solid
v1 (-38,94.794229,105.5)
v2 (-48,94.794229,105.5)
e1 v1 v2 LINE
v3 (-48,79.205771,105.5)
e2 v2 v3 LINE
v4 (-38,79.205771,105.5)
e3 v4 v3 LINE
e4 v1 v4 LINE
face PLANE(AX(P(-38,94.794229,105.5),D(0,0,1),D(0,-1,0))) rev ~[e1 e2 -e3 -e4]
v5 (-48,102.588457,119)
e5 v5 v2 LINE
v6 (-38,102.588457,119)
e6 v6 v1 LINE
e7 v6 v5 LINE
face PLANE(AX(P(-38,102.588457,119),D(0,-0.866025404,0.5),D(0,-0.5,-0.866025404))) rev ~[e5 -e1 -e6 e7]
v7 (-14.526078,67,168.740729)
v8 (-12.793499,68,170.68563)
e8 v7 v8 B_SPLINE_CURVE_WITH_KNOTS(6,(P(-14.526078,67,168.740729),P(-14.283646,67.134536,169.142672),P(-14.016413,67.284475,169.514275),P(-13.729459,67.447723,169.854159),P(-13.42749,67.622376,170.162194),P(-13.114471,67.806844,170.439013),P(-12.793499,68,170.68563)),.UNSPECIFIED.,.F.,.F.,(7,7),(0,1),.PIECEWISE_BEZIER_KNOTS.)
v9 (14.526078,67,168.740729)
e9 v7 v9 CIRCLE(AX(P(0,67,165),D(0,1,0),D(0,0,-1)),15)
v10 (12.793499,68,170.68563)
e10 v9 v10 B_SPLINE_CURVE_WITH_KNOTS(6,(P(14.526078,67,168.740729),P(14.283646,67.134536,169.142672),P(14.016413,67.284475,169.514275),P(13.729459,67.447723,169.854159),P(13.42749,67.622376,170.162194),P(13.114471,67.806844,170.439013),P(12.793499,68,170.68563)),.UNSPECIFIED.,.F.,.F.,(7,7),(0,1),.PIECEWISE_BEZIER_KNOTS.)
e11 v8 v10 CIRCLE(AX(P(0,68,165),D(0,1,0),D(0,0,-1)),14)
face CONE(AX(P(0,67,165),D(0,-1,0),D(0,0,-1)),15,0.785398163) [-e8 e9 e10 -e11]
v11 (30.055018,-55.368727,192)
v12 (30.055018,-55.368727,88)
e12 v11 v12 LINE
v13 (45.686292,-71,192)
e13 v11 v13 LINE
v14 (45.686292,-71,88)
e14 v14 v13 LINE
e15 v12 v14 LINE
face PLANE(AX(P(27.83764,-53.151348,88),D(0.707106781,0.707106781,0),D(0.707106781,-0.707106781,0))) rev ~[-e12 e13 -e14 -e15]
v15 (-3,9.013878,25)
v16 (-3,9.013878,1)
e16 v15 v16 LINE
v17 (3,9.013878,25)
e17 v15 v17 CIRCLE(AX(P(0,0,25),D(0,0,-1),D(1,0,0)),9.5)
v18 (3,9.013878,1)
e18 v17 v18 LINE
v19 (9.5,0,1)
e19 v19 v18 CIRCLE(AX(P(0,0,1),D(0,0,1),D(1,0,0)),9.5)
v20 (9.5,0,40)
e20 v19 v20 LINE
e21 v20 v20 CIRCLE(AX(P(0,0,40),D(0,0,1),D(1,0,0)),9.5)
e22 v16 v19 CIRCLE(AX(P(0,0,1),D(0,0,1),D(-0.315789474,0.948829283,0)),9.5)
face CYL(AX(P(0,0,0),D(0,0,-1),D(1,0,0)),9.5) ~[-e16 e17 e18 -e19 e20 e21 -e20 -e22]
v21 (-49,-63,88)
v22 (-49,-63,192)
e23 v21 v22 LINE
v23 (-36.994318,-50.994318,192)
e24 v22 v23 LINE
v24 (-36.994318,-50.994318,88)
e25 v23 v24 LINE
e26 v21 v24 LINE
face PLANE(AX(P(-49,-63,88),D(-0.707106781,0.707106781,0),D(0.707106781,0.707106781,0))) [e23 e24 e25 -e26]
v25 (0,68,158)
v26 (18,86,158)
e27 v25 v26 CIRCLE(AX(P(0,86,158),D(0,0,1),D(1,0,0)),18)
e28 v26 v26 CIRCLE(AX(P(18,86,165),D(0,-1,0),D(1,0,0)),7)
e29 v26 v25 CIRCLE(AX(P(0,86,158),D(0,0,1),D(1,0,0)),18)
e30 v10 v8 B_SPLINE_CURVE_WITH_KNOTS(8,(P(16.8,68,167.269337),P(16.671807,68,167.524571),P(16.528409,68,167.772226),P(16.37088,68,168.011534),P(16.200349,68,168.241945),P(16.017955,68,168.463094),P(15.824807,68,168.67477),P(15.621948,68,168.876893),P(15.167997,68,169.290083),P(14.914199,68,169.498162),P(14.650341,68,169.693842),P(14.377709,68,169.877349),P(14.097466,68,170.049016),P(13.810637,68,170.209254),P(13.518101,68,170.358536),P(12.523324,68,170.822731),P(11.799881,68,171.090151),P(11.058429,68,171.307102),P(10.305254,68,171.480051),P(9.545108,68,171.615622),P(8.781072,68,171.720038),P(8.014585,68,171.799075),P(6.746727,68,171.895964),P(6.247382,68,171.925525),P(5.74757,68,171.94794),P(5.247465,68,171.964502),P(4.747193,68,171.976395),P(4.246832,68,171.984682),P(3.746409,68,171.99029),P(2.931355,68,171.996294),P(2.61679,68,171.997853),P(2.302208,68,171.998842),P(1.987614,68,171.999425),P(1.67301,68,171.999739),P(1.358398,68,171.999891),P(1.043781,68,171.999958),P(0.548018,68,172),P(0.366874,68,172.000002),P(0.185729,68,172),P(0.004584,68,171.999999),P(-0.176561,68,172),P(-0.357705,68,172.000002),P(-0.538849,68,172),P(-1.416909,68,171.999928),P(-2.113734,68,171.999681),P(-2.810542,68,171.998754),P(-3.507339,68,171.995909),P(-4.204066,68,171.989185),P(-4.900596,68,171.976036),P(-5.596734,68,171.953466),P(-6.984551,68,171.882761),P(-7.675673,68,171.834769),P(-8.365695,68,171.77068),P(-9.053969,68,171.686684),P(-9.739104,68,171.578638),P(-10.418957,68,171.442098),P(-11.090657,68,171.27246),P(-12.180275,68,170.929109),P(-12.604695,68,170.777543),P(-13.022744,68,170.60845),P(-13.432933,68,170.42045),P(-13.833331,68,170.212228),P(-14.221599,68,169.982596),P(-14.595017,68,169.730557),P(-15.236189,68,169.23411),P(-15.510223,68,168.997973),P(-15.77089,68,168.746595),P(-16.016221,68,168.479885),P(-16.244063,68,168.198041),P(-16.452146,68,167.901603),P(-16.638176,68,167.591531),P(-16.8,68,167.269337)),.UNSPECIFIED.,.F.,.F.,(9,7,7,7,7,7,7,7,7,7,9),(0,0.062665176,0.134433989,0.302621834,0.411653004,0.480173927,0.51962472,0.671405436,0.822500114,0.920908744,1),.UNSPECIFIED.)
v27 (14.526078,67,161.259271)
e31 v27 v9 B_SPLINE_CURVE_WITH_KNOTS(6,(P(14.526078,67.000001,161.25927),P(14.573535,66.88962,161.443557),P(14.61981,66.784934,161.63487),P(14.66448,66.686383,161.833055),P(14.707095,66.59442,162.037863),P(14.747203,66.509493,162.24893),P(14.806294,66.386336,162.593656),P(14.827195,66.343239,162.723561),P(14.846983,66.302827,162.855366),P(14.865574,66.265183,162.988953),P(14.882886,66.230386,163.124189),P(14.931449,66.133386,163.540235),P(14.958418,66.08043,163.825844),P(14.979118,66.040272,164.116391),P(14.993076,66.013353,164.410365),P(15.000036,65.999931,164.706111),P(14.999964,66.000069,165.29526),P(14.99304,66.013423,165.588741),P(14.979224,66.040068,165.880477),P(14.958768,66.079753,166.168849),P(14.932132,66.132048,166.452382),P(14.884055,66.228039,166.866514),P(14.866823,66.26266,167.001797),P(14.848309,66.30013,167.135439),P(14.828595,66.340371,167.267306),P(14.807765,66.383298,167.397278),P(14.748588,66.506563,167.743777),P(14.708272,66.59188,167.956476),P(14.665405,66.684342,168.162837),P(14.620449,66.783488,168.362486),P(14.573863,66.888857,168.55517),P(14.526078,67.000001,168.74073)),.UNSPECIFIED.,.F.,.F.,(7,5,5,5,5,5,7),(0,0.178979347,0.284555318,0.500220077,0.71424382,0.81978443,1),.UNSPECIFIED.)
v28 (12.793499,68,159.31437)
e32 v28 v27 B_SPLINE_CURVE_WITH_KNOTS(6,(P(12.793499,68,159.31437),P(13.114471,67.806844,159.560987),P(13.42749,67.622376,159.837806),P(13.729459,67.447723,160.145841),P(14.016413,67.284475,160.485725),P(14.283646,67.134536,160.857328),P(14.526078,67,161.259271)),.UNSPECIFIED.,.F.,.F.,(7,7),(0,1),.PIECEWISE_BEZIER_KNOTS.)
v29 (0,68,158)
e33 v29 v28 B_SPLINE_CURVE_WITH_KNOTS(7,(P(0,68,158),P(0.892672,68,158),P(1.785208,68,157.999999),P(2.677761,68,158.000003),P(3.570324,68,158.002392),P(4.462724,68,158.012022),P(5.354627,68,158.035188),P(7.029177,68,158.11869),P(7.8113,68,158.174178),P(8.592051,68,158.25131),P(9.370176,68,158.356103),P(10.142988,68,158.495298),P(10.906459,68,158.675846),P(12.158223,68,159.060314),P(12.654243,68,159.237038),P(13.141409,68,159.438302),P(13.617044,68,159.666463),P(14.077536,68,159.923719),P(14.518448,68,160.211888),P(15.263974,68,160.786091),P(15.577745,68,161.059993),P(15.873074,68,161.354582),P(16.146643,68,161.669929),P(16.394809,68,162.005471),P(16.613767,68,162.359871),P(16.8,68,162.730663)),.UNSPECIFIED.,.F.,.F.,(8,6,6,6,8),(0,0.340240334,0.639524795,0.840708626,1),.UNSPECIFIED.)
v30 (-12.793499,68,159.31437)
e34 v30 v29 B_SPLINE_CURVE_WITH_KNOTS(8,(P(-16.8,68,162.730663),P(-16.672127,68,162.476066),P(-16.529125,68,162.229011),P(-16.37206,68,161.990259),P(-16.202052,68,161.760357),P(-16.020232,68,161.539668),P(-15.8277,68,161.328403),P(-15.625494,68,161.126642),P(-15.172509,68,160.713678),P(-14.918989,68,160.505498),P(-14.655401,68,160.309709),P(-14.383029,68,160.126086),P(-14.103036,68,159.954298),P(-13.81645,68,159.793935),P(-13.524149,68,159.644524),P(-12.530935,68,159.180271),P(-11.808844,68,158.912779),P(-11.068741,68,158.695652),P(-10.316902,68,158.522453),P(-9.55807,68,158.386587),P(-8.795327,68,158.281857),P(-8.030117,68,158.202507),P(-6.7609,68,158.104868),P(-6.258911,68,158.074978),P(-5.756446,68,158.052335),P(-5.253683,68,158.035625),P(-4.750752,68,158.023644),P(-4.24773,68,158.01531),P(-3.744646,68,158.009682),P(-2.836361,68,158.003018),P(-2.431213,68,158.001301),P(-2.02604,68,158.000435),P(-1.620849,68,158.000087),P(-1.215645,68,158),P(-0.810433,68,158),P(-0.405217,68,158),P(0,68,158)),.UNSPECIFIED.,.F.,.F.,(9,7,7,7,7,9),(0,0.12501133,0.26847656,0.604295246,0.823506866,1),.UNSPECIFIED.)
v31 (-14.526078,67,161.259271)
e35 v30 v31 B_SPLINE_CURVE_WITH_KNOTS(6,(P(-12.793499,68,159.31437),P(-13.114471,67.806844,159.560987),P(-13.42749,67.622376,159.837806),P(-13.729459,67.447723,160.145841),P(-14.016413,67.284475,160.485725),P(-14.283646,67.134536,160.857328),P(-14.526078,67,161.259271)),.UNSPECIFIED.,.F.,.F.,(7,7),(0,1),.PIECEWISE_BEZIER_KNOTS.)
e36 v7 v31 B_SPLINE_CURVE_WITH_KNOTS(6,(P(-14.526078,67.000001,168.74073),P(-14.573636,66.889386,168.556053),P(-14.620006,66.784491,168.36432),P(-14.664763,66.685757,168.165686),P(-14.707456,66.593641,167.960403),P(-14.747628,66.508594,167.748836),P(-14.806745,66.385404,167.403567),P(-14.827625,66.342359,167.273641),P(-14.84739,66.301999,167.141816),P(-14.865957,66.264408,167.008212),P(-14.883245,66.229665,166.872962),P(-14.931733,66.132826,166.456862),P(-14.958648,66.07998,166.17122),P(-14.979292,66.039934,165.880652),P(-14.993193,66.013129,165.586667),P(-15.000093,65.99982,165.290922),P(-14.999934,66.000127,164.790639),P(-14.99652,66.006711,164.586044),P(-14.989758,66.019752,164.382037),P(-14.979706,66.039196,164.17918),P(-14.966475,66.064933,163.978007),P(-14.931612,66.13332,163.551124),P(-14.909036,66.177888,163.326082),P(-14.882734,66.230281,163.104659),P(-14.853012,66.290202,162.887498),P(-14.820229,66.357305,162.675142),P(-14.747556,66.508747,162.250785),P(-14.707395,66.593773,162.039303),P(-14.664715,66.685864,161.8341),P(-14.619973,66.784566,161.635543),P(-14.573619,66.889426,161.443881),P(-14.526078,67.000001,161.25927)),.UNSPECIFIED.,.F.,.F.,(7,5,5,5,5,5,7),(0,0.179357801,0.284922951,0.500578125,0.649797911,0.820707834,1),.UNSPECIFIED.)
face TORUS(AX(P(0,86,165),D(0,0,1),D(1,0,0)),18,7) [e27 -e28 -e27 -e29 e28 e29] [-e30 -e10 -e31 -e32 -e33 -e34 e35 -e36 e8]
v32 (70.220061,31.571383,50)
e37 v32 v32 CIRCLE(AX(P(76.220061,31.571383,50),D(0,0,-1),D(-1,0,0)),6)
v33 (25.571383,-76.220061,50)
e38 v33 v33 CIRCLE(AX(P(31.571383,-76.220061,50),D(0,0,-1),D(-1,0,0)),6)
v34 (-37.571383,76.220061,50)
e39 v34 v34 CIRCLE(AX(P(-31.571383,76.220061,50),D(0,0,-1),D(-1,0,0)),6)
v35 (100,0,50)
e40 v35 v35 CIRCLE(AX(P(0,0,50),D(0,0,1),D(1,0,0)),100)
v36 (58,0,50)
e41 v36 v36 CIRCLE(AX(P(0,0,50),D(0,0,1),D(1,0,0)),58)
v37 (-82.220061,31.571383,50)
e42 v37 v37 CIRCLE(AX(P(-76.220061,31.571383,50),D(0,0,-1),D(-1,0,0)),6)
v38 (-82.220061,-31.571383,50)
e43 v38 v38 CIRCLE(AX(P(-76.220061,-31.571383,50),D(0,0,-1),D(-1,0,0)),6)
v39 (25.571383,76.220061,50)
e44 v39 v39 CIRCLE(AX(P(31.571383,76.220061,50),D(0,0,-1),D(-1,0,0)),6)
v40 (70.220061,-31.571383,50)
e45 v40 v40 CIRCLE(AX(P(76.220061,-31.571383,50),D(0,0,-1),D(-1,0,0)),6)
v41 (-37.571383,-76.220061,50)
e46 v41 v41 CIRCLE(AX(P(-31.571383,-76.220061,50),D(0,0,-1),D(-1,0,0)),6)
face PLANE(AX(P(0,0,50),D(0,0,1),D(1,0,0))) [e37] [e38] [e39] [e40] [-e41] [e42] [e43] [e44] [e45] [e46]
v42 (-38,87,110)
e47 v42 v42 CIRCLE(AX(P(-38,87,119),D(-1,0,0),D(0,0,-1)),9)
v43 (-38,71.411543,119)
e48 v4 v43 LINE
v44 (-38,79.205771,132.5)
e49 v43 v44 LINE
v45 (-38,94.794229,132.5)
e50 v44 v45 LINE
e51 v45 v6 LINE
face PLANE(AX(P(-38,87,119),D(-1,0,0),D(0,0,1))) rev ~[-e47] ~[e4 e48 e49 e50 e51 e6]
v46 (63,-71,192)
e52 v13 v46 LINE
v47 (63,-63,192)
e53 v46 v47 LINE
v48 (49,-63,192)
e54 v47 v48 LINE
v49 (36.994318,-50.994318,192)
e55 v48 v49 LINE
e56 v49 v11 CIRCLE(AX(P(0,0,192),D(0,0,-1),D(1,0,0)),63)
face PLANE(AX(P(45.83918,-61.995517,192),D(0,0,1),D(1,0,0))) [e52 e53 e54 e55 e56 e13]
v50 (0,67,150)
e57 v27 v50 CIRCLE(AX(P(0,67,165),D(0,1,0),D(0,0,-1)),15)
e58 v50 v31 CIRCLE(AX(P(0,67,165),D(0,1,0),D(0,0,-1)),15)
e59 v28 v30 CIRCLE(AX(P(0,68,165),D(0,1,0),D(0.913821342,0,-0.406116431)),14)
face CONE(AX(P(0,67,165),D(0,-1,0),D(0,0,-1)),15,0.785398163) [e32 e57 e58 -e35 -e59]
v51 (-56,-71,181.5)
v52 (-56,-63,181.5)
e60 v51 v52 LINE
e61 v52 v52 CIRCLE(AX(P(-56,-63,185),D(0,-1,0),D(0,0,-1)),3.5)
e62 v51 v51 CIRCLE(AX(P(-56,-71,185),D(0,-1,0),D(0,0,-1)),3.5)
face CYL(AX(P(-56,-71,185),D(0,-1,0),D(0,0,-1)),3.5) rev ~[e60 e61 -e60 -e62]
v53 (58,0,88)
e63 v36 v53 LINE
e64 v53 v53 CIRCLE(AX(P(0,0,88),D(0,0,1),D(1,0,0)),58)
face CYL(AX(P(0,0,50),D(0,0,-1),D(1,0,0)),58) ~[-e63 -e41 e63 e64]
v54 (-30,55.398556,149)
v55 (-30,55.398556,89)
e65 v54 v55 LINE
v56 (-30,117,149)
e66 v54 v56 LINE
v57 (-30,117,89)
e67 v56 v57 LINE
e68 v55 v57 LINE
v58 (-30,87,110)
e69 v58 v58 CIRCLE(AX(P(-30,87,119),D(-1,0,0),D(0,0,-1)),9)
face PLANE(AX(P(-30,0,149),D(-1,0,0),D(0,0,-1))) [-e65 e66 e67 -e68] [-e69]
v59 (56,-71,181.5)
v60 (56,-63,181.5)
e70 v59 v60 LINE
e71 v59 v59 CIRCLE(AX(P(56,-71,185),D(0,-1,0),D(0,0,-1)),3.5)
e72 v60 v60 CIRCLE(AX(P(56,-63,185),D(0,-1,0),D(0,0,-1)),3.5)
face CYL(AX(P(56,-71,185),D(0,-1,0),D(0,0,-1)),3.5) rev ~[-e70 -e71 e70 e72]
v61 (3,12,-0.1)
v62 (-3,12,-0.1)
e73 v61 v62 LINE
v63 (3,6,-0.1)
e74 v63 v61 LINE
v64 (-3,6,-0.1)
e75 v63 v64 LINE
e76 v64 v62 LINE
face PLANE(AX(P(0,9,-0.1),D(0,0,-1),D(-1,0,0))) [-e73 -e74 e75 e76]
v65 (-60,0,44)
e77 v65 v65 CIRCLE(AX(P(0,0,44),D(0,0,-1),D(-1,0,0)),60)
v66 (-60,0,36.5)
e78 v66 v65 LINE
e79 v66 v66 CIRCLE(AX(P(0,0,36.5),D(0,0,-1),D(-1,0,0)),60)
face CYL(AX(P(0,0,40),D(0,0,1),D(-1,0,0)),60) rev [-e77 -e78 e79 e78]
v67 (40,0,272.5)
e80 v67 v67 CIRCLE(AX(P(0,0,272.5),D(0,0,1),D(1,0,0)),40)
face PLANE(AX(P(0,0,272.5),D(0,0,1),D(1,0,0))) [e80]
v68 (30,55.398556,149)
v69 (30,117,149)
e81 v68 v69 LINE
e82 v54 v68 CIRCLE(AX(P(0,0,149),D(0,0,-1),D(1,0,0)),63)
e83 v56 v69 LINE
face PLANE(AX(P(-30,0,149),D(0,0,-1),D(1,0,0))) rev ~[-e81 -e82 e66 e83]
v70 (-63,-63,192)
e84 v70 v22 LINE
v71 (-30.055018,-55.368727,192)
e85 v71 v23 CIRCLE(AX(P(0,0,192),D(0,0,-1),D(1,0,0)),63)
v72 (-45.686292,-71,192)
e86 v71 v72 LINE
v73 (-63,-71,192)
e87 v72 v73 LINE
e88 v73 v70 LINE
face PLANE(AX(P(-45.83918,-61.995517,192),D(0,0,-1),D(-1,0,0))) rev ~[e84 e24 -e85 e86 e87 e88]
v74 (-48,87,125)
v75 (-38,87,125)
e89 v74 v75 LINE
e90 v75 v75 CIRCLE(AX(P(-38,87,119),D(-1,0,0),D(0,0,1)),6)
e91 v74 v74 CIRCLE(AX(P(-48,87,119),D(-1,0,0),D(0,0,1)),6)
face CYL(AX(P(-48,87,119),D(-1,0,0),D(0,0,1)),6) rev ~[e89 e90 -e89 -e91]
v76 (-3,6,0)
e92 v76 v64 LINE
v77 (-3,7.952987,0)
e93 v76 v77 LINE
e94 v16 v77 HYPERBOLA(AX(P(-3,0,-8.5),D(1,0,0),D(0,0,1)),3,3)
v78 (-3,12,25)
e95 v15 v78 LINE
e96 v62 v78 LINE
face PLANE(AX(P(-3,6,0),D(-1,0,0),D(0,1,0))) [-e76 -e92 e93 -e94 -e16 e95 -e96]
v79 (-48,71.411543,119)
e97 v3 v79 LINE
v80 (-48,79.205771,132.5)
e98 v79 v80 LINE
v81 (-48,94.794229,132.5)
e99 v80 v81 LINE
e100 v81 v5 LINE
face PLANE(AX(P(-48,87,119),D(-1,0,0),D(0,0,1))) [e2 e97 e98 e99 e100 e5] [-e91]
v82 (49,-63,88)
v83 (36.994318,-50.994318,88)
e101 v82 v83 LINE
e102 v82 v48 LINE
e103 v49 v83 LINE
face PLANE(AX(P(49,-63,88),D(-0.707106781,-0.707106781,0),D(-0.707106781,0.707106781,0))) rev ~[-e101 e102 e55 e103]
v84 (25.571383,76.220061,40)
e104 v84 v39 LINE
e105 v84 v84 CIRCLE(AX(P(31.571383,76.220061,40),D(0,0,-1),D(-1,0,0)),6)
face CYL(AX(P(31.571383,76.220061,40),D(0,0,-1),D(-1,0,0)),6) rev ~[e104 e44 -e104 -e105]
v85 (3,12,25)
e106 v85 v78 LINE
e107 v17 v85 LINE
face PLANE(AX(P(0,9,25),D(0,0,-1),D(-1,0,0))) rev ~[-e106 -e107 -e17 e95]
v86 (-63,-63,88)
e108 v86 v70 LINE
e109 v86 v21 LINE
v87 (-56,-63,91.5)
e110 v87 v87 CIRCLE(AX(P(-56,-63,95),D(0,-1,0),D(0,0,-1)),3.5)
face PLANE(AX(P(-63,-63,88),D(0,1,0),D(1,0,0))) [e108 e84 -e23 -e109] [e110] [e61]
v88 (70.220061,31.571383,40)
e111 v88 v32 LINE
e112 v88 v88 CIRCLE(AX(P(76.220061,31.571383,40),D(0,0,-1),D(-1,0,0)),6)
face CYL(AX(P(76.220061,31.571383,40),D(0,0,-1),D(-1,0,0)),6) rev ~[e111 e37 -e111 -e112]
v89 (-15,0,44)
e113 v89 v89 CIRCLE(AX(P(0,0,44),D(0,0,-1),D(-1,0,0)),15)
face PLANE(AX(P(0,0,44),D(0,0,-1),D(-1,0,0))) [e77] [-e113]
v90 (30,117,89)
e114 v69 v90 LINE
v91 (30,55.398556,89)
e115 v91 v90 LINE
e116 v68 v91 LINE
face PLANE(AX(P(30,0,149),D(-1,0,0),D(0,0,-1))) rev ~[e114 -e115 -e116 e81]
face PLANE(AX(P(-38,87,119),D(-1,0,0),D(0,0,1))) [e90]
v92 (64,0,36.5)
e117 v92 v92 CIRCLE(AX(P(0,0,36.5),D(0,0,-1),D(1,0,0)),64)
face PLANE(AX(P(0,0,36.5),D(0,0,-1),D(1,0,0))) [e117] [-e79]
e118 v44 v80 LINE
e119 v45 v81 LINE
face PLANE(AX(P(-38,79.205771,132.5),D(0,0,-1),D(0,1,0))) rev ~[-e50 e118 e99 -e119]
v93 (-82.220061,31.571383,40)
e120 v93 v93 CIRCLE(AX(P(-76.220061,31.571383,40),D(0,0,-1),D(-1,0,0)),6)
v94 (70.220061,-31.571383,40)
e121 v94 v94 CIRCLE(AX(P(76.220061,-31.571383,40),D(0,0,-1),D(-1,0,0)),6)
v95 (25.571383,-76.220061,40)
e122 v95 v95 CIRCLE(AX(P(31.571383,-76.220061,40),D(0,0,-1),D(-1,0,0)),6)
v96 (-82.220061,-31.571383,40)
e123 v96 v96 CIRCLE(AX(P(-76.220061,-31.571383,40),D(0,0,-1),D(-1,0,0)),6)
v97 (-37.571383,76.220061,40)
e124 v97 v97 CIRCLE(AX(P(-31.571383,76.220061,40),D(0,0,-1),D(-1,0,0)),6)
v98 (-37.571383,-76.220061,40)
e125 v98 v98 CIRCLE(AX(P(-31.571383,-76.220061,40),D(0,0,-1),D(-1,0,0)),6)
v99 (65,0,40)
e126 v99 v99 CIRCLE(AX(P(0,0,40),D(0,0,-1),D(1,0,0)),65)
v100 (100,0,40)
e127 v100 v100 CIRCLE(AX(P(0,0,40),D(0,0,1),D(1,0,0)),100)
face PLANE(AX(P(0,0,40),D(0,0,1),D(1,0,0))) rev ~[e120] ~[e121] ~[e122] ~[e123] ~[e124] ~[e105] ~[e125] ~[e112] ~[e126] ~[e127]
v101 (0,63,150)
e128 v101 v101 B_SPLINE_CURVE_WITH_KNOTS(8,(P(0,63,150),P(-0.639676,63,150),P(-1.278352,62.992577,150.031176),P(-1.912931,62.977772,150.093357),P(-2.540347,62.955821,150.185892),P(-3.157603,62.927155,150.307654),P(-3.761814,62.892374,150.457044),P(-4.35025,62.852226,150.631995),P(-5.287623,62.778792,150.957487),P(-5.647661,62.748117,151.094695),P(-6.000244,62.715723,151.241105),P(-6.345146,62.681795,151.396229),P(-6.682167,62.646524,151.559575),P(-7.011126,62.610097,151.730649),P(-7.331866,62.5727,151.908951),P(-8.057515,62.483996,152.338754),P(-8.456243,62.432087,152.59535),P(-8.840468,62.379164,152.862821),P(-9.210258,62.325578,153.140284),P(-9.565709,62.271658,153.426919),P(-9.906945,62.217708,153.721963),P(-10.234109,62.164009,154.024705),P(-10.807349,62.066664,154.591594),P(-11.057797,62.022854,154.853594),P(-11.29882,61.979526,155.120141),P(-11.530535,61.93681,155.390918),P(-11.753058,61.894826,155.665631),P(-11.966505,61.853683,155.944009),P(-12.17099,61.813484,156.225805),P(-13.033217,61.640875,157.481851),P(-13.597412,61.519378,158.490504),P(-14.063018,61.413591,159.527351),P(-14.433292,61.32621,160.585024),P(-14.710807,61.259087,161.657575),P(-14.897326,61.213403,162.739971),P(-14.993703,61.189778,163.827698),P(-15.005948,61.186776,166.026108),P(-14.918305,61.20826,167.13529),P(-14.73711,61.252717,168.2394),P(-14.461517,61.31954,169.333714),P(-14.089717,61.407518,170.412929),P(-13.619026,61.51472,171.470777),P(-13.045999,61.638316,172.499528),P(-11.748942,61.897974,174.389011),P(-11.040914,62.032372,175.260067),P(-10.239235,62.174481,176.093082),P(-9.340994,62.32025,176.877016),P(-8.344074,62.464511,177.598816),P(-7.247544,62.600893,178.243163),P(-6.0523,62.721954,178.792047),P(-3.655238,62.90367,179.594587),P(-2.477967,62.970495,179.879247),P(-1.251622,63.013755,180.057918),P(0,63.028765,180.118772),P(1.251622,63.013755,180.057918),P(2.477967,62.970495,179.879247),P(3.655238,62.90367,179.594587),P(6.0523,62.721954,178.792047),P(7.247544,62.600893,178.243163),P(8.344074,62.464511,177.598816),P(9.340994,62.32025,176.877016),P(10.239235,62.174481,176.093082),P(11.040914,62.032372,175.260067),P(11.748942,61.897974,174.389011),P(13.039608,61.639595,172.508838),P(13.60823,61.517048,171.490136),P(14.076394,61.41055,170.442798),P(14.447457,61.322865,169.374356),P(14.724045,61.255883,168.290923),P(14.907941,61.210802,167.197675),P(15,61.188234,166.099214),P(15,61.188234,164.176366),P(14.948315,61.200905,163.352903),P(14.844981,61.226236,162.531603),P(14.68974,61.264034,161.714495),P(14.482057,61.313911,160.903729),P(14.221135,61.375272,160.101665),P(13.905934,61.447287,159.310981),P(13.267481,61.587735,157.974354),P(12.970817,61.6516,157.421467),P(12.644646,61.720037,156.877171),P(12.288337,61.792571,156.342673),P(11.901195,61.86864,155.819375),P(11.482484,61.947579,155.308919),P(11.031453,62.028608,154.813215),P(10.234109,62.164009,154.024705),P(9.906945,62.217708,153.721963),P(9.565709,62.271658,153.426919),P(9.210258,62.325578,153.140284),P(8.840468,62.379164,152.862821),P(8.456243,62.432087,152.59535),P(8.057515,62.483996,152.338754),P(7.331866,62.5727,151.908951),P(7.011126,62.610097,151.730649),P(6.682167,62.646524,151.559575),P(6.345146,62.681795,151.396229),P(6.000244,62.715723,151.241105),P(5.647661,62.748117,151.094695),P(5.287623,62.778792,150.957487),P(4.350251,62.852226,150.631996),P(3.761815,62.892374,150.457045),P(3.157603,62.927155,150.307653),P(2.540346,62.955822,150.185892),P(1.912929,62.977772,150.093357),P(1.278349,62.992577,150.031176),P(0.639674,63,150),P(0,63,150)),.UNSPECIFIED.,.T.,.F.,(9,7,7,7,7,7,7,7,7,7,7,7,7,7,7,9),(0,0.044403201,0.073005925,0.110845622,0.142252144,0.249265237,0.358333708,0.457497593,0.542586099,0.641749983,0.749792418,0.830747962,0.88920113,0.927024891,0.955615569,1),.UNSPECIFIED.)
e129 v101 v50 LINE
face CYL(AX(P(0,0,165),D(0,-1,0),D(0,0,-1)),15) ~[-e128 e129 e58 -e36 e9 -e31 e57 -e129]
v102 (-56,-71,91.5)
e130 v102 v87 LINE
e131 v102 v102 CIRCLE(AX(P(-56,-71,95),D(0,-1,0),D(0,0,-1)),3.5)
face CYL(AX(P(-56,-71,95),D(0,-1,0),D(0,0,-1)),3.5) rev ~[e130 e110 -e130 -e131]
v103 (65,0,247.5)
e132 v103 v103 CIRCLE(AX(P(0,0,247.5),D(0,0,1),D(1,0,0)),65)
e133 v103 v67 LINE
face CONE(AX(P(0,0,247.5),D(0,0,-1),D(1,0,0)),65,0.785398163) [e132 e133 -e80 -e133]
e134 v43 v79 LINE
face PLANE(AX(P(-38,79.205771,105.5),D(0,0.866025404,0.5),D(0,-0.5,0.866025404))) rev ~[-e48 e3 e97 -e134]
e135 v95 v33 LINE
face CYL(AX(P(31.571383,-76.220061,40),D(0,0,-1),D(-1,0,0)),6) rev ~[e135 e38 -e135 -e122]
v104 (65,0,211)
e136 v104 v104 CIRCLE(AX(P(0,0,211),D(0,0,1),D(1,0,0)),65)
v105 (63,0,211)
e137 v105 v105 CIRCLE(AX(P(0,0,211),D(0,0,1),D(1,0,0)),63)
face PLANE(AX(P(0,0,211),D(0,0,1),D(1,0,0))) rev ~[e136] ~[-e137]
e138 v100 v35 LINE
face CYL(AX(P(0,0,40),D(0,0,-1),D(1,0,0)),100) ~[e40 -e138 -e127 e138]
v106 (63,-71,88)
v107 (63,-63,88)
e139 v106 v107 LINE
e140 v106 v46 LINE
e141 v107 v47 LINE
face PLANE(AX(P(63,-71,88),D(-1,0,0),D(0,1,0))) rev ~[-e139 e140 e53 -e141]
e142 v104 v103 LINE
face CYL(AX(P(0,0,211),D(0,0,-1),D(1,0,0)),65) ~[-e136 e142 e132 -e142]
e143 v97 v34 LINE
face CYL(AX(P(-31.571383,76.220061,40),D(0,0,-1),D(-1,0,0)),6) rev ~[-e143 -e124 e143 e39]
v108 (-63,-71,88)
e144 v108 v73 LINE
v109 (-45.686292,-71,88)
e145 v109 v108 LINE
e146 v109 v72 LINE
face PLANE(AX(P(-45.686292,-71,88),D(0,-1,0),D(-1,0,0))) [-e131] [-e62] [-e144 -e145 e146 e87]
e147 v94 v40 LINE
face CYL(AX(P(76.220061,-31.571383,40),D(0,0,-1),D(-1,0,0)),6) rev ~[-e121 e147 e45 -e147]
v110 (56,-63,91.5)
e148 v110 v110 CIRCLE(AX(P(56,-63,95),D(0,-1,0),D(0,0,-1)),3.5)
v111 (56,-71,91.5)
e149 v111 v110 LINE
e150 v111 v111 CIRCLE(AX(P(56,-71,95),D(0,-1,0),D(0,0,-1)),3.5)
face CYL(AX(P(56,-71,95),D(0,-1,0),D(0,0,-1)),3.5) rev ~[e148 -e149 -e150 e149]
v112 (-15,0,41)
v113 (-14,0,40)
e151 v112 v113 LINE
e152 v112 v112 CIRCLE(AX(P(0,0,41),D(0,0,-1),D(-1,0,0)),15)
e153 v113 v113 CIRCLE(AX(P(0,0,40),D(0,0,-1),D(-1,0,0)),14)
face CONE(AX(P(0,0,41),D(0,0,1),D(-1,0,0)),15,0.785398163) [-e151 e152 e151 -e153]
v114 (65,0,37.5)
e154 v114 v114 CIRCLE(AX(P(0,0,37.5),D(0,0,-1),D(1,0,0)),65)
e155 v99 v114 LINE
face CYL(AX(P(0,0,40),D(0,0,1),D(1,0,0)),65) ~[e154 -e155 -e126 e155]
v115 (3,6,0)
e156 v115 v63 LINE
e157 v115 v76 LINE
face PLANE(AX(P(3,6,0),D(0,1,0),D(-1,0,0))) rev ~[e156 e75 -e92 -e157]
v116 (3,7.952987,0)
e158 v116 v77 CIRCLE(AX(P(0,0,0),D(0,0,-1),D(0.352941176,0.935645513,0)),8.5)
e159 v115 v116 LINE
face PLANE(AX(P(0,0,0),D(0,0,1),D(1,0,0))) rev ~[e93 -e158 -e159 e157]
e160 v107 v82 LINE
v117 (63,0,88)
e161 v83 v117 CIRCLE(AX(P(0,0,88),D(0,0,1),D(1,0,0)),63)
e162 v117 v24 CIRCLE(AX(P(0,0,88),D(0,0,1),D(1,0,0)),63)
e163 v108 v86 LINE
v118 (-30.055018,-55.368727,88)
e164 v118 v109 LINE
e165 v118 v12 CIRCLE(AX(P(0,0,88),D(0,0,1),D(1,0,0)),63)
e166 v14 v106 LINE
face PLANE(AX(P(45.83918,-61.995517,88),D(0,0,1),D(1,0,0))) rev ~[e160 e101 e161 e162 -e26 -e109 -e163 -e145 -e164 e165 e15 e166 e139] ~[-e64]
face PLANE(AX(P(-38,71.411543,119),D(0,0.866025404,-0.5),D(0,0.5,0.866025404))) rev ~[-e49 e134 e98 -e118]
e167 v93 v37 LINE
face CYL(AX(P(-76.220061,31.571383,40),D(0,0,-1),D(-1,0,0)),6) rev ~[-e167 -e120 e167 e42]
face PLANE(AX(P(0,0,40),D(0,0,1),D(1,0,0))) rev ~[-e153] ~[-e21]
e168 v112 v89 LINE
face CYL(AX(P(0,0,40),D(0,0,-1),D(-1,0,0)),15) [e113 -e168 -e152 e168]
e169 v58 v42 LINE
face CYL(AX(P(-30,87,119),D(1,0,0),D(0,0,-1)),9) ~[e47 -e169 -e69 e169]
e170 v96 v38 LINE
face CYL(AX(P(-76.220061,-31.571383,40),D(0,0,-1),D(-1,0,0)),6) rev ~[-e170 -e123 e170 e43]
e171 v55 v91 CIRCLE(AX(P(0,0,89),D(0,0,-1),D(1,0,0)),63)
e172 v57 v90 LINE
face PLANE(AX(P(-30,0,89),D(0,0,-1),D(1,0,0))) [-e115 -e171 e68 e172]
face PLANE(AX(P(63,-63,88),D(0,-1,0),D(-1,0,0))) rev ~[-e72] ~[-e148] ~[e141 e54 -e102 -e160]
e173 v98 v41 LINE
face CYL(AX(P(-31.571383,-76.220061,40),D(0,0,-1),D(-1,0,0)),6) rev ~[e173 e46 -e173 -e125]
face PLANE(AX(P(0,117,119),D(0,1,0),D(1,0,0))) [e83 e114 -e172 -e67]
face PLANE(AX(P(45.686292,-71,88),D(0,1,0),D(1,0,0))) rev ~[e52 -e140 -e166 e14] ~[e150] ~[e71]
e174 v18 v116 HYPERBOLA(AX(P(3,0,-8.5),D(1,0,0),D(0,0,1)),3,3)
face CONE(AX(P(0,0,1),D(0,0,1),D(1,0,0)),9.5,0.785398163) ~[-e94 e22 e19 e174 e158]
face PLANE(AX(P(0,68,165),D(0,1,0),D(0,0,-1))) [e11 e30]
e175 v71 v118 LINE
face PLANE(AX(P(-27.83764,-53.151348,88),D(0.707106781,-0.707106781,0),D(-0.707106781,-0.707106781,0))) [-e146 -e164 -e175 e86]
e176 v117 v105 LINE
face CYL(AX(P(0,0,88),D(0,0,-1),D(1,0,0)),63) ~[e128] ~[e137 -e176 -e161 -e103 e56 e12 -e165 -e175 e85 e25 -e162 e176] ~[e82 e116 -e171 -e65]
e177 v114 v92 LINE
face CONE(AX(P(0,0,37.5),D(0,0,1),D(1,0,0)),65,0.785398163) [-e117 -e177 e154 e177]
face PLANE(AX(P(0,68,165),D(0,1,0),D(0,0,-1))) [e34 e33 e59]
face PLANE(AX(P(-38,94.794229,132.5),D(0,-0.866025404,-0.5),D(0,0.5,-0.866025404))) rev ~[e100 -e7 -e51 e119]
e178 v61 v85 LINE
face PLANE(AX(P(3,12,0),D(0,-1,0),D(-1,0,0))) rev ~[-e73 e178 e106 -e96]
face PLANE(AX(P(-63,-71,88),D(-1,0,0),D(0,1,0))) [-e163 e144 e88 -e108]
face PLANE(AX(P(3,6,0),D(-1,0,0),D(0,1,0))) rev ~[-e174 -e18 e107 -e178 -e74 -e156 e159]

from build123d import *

# Parameters (mm, degrees)
SKETCH_2_R           = 9.5
EXTRUDE_1_DEPTH      = 40
SKETCH_3_W           = 6
SKETCH_3_H           = 6
EXTRUDE_2_DEPTH      = 0.1
EXTRUDE_2_DEPTH_BACK = 25
CHAMFER_1_SIZE       = 1
SKETCH_4_R           = 100
EXTRUDE_3_DEPTH      = 10
SKETCH_5_R           = 60
SKETCH_5_R_2         = 15
CUT_EXTRUDE_1_DEPTH  = 4
SKETCH_7_R           = 65
SKETCH_7_R_2         = 60
EXTRUDE_4_DEPTH      = 3.5
CHAMFER_2_SIZE       = 1
SKETCH_8_R           = 6
CUT_EXTRUDE_2_DEPTH  = 11
CHAMFER_3_SIZE       = 1
SKETCH_9_R           = 58
EXTRUDE_5_DEPTH      = 38
SKETCH_10_R          = 63
EXTRUDE_6_DEPTH      = 123
SKETCH_11_R          = 65
EXTRUDE_7_DEPTH      = 61.5
CHAMFER_4_SIZE       = 25
EXTRUDE_8_DEPTH      = 104
CUT_EXTRUDE_3_REACH  = 173
SKETCH_13_R          = 3.5
SKETCH_14_W          = 60
SKETCH_14_H          = 60
EXTRUDE_9_DEPTH      = 117
SKETCH_15_R          = 15
EXTRUDE_10_DEPTH     = 68
CHAMFER_5_SIZE       = 1
SKETCH_17_R          = 7
SKETCH_18_R          = 9
EXTRUDE_11_DEPTH     = 8
EXTRUDE_12_DEPTH     = 10
SKETCH_20_R          = 6
CUT_EXTRUDE_4_DEPTH  = 10


with BuildPart() as part:
    # Эскиз2 → Вытянуть1 (new body)
    with BuildSketch(Plane.XY):
        Circle(SKETCH_2_R)
    extrude(amount=EXTRUDE_1_DEPTH)

    # Эскиз3 → Вытянуть2 (add, two sides)
    with BuildSketch(Plane(origin=(0, 0, 0), x_dir=(-1, 0, 0), z_dir=(0, 0, -1))) as extrude_2_sk:
        with Locations((0, 9)):
            Rectangle(SKETCH_3_W, SKETCH_3_H)
    extrude(amount=EXTRUDE_2_DEPTH)
    extrude(extrude_2_sk.sketch, amount=-EXTRUDE_2_DEPTH_BACK)

    # Фаска1
    chamfer_1_edges = [part.edges().sort_by_distance(p)[0] for p in [
        (-5.556527693, -7.705517504, 0),
    ]]
    chamfer(chamfer_1_edges, length=CHAMFER_1_SIZE)

    # Эскиз4 → Вытянуть3 (add)
    with BuildSketch(Plane.XY.offset(40)):
        Circle(SKETCH_4_R)
    extrude(amount=EXTRUDE_3_DEPTH)

    # Эскиз5 → Вырез-Вытянуть1 (cut)
    with BuildSketch(Plane(origin=(0, 0, 40), x_dir=(-1, 0, 0), z_dir=(0, 0, -1))):
        Circle(SKETCH_5_R)
        Circle(SKETCH_5_R_2, mode=Mode.SUBTRACT)
    extrude(amount=-CUT_EXTRUDE_1_DEPTH, mode=Mode.SUBTRACT)

    # Эскиз7 → Вытянуть4 (add)
    with BuildSketch(Plane(origin=(0, 0, 40), x_dir=(-1, 0, 0), z_dir=(0, 0, -1))):
        with Locations(Location((0, 0, 0), (0, 0, 180))):  # turned: the seam where the file's is
            Circle(SKETCH_7_R)
        Circle(SKETCH_7_R_2, mode=Mode.SUBTRACT)
    extrude(amount=EXTRUDE_4_DEPTH)

    # Фаска2
    chamfer_2_edges = [part.edges().sort_by_distance(p)[0] for p in [
        (-65, 0, 36.5),
    ]]
    chamfer(chamfer_2_edges, length=CHAMFER_2_SIZE)

    # Эскиз8 → Вырез-Вытянуть2 (cut, through all)
    with BuildSketch(Plane(origin=(0, 0, 40), x_dir=(-1, 0, 0), z_dir=(0, 0, -1))):
        with Locations((-31.57138317, 76.220061432)):
            Circle(SKETCH_8_R)
        with Locations((31.57138317, 76.220061432)):
            Circle(SKETCH_8_R)
        with Locations((76.220061432, 31.57138317)):
            Circle(SKETCH_8_R)
        with Locations((76.220061432, -31.57138317)):
            Circle(SKETCH_8_R)
        with Locations((31.57138317, -76.220061432)):
            Circle(SKETCH_8_R)
        with Locations((-31.57138317, -76.220061432)):
            Circle(SKETCH_8_R)
        with Locations((-76.220061432, -31.57138317)):
            Circle(SKETCH_8_R)
        with Locations((-76.220061432, 31.57138317)):
            Circle(SKETCH_8_R)
    extrude(amount=-CUT_EXTRUDE_2_DEPTH, mode=Mode.SUBTRACT)

    # Фаска3
    chamfer_3_edges = [part.edges().sort_by_distance(p)[0] for p in [
        (15, 0, 40),
    ]]
    chamfer(chamfer_3_edges, length=CHAMFER_3_SIZE)

    # Эскиз9 → Вытянуть5 (add)
    with BuildSketch(Plane.XY.offset(50)):
        Circle(SKETCH_9_R)
    extrude(amount=EXTRUDE_5_DEPTH)

    # Эскиз10 → Вытянуть6 (add)
    with BuildSketch(Plane.XY.offset(88)):
        Circle(SKETCH_10_R)
    extrude(amount=EXTRUDE_6_DEPTH)

    # Эскиз11 → Вытянуть7 (add)
    with BuildSketch(Plane.XY.offset(211)):
        Circle(SKETCH_11_R)
    extrude(amount=EXTRUDE_7_DEPTH)

    # Фаска4
    chamfer_4_edges = [part.edges().sort_by_distance(p)[0] for p in [
        (-65, 0, 272.5),
    ]]
    chamfer(chamfer_4_edges, length=CHAMFER_4_SIZE)

    # Эскиз12 → Вытянуть8 (add)
    with BuildSketch(Plane(origin=(0, 0, 88), x_dir=(-1, 0, 0), z_dir=(0, 0, -1))):
        Polygon((-45.686291501, -71), (-63, -71), (-63, -63), (-49, -63), (-34.844951906, -48.844951906), (-27.837639703, -53.151348202), align=None)
        Polygon((45.686291501, -71), (63, -71), (63, -63), (49, -63), (34.844951906, -48.844951906), (27.837639703, -53.151348202), align=None)
    extrude(amount=-EXTRUDE_8_DEPTH)

    # Эскиз13 → Вырез-Вытянуть3 (cut, up to next)
    with BuildSketch(Plane.XZ.offset(71), mode=Mode.PRIVATE) as cut_extrude_3_sk1:
        with Locations(Location((-56, 95, 0), (0, 0, 270))):  # turned: the seam where the file's is
            Circle(SKETCH_13_R)
    cut_extrude_3_tool1 = extrude(cut_extrude_3_sk1.sketch, amount=-CUT_EXTRUDE_3_REACH, mode=Mode.PRIVATE) & part.part
    add(cut_extrude_3_tool1.solids().sort_by_distance((-56, -71, 95))[0], mode=Mode.SUBTRACT)
    # Эскиз13 → Вырез-Вытянуть3 (cut, up to next)
    with BuildSketch(Plane.XZ.offset(71), mode=Mode.PRIVATE) as cut_extrude_3_sk2:
        with Locations(Location((56, 95, 0), (0, 0, 270))):  # turned: the seam where the file's is
            Circle(SKETCH_13_R)
    cut_extrude_3_tool2 = extrude(cut_extrude_3_sk2.sketch, amount=-CUT_EXTRUDE_3_REACH, mode=Mode.PRIVATE) & part.part
    add(cut_extrude_3_tool2.solids().sort_by_distance((56, -71, 95))[0], mode=Mode.SUBTRACT)
    # Эскиз13 → Вырез-Вытянуть3 (cut, up to next)
    with BuildSketch(Plane.XZ.offset(71), mode=Mode.PRIVATE) as cut_extrude_3_sk3:
        with Locations(Location((-56, 185, 0), (0, 0, 270))):  # turned: the seam where the file's is
            Circle(SKETCH_13_R)
    cut_extrude_3_tool3 = extrude(cut_extrude_3_sk3.sketch, amount=-CUT_EXTRUDE_3_REACH, mode=Mode.PRIVATE) & part.part
    add(cut_extrude_3_tool3.solids().sort_by_distance((-56, -71, 185))[0], mode=Mode.SUBTRACT)
    # Эскиз13 → Вырез-Вытянуть3 (cut, up to next)
    with BuildSketch(Plane.XZ.offset(71), mode=Mode.PRIVATE) as cut_extrude_3_sk4:
        with Locations(Location((56, 185, 0), (0, 0, 270))):  # turned: the seam where the file's is
            Circle(SKETCH_13_R)
    cut_extrude_3_tool4 = extrude(cut_extrude_3_sk4.sketch, amount=-CUT_EXTRUDE_3_REACH, mode=Mode.PRIVATE) & part.part
    add(cut_extrude_3_tool4.solids().sort_by_distance((56, -71, 185))[0], mode=Mode.SUBTRACT)

    # Эскиз14 → Вытянуть9 (add)
    with BuildSketch(Plane(origin=(0, 0, 0), x_dir=(1, 0, 0), z_dir=(0, 1, 0))):
        with Locations((0, -119)):
            Rectangle(SKETCH_14_W, SKETCH_14_H)
    extrude(amount=EXTRUDE_9_DEPTH)

    # Эскиз15 → Вытянуть10 (add)
    with BuildSketch(Plane(origin=(0, 0, 0), x_dir=(1, 0, 0), z_dir=(0, 1, 0))):
        with Locations(Location((0, -165, 0), (0, 0, 90))):  # turned: the seam where the file's is
            Circle(SKETCH_15_R)
    extrude(amount=EXTRUDE_10_DEPTH)

    # Фаска5
    chamfer_5_edges = [part.edges().sort_by_distance(p)[0] for p in [
        (0, 68, 180),
    ]]
    chamfer(chamfer_5_edges, length=CHAMFER_5_SIZE)

    # По траектории1: sweep along a path in Эскиз16
    with BuildLine(Plane.XY.offset(165)) as sweep_1_path:
        CenterArc((0, 86), 18, 0, 360)
    # Эскиз17 → По траектории1 (sweep)
    with BuildSketch(Plane(origin=(0, 0, 0), x_dir=(0, 0, -1), z_dir=(1, 0, 0))):
        with Locations((-165, 104)):
            Circle(SKETCH_17_R)
    sweep(path=sweep_1_path.line)

    # Эскиз18 → Вытянуть11 (add)
    with BuildSketch(Plane.ZY.offset(30)):
        with Locations(Location((119, 87, 0), (0, 0, 180))):  # turned: the seam where the file's is
            Circle(SKETCH_18_R)
    extrude(amount=EXTRUDE_11_DEPTH)

    # Эскиз19 → Вытянуть12 (add)
    with BuildSketch(Plane.ZY.offset(38)):
        Polygon((119, 102.588457268), (105.5, 94.794228634), (105.5, 79.205771366), (119, 71.411542732), (132.5, 79.205771366), (132.5, 94.794228634), align=None)
    extrude(amount=EXTRUDE_12_DEPTH)

    # Эскиз20 → Вырез-Вытянуть4 (cut)
    with BuildSketch(Plane.ZY.offset(48)):
        with Locations((119, 87)):
            Circle(SKETCH_20_R)
    extrude(amount=-CUT_EXTRUDE_4_DEPTH, mode=Mode.SUBTRACT)


solid = part.part
